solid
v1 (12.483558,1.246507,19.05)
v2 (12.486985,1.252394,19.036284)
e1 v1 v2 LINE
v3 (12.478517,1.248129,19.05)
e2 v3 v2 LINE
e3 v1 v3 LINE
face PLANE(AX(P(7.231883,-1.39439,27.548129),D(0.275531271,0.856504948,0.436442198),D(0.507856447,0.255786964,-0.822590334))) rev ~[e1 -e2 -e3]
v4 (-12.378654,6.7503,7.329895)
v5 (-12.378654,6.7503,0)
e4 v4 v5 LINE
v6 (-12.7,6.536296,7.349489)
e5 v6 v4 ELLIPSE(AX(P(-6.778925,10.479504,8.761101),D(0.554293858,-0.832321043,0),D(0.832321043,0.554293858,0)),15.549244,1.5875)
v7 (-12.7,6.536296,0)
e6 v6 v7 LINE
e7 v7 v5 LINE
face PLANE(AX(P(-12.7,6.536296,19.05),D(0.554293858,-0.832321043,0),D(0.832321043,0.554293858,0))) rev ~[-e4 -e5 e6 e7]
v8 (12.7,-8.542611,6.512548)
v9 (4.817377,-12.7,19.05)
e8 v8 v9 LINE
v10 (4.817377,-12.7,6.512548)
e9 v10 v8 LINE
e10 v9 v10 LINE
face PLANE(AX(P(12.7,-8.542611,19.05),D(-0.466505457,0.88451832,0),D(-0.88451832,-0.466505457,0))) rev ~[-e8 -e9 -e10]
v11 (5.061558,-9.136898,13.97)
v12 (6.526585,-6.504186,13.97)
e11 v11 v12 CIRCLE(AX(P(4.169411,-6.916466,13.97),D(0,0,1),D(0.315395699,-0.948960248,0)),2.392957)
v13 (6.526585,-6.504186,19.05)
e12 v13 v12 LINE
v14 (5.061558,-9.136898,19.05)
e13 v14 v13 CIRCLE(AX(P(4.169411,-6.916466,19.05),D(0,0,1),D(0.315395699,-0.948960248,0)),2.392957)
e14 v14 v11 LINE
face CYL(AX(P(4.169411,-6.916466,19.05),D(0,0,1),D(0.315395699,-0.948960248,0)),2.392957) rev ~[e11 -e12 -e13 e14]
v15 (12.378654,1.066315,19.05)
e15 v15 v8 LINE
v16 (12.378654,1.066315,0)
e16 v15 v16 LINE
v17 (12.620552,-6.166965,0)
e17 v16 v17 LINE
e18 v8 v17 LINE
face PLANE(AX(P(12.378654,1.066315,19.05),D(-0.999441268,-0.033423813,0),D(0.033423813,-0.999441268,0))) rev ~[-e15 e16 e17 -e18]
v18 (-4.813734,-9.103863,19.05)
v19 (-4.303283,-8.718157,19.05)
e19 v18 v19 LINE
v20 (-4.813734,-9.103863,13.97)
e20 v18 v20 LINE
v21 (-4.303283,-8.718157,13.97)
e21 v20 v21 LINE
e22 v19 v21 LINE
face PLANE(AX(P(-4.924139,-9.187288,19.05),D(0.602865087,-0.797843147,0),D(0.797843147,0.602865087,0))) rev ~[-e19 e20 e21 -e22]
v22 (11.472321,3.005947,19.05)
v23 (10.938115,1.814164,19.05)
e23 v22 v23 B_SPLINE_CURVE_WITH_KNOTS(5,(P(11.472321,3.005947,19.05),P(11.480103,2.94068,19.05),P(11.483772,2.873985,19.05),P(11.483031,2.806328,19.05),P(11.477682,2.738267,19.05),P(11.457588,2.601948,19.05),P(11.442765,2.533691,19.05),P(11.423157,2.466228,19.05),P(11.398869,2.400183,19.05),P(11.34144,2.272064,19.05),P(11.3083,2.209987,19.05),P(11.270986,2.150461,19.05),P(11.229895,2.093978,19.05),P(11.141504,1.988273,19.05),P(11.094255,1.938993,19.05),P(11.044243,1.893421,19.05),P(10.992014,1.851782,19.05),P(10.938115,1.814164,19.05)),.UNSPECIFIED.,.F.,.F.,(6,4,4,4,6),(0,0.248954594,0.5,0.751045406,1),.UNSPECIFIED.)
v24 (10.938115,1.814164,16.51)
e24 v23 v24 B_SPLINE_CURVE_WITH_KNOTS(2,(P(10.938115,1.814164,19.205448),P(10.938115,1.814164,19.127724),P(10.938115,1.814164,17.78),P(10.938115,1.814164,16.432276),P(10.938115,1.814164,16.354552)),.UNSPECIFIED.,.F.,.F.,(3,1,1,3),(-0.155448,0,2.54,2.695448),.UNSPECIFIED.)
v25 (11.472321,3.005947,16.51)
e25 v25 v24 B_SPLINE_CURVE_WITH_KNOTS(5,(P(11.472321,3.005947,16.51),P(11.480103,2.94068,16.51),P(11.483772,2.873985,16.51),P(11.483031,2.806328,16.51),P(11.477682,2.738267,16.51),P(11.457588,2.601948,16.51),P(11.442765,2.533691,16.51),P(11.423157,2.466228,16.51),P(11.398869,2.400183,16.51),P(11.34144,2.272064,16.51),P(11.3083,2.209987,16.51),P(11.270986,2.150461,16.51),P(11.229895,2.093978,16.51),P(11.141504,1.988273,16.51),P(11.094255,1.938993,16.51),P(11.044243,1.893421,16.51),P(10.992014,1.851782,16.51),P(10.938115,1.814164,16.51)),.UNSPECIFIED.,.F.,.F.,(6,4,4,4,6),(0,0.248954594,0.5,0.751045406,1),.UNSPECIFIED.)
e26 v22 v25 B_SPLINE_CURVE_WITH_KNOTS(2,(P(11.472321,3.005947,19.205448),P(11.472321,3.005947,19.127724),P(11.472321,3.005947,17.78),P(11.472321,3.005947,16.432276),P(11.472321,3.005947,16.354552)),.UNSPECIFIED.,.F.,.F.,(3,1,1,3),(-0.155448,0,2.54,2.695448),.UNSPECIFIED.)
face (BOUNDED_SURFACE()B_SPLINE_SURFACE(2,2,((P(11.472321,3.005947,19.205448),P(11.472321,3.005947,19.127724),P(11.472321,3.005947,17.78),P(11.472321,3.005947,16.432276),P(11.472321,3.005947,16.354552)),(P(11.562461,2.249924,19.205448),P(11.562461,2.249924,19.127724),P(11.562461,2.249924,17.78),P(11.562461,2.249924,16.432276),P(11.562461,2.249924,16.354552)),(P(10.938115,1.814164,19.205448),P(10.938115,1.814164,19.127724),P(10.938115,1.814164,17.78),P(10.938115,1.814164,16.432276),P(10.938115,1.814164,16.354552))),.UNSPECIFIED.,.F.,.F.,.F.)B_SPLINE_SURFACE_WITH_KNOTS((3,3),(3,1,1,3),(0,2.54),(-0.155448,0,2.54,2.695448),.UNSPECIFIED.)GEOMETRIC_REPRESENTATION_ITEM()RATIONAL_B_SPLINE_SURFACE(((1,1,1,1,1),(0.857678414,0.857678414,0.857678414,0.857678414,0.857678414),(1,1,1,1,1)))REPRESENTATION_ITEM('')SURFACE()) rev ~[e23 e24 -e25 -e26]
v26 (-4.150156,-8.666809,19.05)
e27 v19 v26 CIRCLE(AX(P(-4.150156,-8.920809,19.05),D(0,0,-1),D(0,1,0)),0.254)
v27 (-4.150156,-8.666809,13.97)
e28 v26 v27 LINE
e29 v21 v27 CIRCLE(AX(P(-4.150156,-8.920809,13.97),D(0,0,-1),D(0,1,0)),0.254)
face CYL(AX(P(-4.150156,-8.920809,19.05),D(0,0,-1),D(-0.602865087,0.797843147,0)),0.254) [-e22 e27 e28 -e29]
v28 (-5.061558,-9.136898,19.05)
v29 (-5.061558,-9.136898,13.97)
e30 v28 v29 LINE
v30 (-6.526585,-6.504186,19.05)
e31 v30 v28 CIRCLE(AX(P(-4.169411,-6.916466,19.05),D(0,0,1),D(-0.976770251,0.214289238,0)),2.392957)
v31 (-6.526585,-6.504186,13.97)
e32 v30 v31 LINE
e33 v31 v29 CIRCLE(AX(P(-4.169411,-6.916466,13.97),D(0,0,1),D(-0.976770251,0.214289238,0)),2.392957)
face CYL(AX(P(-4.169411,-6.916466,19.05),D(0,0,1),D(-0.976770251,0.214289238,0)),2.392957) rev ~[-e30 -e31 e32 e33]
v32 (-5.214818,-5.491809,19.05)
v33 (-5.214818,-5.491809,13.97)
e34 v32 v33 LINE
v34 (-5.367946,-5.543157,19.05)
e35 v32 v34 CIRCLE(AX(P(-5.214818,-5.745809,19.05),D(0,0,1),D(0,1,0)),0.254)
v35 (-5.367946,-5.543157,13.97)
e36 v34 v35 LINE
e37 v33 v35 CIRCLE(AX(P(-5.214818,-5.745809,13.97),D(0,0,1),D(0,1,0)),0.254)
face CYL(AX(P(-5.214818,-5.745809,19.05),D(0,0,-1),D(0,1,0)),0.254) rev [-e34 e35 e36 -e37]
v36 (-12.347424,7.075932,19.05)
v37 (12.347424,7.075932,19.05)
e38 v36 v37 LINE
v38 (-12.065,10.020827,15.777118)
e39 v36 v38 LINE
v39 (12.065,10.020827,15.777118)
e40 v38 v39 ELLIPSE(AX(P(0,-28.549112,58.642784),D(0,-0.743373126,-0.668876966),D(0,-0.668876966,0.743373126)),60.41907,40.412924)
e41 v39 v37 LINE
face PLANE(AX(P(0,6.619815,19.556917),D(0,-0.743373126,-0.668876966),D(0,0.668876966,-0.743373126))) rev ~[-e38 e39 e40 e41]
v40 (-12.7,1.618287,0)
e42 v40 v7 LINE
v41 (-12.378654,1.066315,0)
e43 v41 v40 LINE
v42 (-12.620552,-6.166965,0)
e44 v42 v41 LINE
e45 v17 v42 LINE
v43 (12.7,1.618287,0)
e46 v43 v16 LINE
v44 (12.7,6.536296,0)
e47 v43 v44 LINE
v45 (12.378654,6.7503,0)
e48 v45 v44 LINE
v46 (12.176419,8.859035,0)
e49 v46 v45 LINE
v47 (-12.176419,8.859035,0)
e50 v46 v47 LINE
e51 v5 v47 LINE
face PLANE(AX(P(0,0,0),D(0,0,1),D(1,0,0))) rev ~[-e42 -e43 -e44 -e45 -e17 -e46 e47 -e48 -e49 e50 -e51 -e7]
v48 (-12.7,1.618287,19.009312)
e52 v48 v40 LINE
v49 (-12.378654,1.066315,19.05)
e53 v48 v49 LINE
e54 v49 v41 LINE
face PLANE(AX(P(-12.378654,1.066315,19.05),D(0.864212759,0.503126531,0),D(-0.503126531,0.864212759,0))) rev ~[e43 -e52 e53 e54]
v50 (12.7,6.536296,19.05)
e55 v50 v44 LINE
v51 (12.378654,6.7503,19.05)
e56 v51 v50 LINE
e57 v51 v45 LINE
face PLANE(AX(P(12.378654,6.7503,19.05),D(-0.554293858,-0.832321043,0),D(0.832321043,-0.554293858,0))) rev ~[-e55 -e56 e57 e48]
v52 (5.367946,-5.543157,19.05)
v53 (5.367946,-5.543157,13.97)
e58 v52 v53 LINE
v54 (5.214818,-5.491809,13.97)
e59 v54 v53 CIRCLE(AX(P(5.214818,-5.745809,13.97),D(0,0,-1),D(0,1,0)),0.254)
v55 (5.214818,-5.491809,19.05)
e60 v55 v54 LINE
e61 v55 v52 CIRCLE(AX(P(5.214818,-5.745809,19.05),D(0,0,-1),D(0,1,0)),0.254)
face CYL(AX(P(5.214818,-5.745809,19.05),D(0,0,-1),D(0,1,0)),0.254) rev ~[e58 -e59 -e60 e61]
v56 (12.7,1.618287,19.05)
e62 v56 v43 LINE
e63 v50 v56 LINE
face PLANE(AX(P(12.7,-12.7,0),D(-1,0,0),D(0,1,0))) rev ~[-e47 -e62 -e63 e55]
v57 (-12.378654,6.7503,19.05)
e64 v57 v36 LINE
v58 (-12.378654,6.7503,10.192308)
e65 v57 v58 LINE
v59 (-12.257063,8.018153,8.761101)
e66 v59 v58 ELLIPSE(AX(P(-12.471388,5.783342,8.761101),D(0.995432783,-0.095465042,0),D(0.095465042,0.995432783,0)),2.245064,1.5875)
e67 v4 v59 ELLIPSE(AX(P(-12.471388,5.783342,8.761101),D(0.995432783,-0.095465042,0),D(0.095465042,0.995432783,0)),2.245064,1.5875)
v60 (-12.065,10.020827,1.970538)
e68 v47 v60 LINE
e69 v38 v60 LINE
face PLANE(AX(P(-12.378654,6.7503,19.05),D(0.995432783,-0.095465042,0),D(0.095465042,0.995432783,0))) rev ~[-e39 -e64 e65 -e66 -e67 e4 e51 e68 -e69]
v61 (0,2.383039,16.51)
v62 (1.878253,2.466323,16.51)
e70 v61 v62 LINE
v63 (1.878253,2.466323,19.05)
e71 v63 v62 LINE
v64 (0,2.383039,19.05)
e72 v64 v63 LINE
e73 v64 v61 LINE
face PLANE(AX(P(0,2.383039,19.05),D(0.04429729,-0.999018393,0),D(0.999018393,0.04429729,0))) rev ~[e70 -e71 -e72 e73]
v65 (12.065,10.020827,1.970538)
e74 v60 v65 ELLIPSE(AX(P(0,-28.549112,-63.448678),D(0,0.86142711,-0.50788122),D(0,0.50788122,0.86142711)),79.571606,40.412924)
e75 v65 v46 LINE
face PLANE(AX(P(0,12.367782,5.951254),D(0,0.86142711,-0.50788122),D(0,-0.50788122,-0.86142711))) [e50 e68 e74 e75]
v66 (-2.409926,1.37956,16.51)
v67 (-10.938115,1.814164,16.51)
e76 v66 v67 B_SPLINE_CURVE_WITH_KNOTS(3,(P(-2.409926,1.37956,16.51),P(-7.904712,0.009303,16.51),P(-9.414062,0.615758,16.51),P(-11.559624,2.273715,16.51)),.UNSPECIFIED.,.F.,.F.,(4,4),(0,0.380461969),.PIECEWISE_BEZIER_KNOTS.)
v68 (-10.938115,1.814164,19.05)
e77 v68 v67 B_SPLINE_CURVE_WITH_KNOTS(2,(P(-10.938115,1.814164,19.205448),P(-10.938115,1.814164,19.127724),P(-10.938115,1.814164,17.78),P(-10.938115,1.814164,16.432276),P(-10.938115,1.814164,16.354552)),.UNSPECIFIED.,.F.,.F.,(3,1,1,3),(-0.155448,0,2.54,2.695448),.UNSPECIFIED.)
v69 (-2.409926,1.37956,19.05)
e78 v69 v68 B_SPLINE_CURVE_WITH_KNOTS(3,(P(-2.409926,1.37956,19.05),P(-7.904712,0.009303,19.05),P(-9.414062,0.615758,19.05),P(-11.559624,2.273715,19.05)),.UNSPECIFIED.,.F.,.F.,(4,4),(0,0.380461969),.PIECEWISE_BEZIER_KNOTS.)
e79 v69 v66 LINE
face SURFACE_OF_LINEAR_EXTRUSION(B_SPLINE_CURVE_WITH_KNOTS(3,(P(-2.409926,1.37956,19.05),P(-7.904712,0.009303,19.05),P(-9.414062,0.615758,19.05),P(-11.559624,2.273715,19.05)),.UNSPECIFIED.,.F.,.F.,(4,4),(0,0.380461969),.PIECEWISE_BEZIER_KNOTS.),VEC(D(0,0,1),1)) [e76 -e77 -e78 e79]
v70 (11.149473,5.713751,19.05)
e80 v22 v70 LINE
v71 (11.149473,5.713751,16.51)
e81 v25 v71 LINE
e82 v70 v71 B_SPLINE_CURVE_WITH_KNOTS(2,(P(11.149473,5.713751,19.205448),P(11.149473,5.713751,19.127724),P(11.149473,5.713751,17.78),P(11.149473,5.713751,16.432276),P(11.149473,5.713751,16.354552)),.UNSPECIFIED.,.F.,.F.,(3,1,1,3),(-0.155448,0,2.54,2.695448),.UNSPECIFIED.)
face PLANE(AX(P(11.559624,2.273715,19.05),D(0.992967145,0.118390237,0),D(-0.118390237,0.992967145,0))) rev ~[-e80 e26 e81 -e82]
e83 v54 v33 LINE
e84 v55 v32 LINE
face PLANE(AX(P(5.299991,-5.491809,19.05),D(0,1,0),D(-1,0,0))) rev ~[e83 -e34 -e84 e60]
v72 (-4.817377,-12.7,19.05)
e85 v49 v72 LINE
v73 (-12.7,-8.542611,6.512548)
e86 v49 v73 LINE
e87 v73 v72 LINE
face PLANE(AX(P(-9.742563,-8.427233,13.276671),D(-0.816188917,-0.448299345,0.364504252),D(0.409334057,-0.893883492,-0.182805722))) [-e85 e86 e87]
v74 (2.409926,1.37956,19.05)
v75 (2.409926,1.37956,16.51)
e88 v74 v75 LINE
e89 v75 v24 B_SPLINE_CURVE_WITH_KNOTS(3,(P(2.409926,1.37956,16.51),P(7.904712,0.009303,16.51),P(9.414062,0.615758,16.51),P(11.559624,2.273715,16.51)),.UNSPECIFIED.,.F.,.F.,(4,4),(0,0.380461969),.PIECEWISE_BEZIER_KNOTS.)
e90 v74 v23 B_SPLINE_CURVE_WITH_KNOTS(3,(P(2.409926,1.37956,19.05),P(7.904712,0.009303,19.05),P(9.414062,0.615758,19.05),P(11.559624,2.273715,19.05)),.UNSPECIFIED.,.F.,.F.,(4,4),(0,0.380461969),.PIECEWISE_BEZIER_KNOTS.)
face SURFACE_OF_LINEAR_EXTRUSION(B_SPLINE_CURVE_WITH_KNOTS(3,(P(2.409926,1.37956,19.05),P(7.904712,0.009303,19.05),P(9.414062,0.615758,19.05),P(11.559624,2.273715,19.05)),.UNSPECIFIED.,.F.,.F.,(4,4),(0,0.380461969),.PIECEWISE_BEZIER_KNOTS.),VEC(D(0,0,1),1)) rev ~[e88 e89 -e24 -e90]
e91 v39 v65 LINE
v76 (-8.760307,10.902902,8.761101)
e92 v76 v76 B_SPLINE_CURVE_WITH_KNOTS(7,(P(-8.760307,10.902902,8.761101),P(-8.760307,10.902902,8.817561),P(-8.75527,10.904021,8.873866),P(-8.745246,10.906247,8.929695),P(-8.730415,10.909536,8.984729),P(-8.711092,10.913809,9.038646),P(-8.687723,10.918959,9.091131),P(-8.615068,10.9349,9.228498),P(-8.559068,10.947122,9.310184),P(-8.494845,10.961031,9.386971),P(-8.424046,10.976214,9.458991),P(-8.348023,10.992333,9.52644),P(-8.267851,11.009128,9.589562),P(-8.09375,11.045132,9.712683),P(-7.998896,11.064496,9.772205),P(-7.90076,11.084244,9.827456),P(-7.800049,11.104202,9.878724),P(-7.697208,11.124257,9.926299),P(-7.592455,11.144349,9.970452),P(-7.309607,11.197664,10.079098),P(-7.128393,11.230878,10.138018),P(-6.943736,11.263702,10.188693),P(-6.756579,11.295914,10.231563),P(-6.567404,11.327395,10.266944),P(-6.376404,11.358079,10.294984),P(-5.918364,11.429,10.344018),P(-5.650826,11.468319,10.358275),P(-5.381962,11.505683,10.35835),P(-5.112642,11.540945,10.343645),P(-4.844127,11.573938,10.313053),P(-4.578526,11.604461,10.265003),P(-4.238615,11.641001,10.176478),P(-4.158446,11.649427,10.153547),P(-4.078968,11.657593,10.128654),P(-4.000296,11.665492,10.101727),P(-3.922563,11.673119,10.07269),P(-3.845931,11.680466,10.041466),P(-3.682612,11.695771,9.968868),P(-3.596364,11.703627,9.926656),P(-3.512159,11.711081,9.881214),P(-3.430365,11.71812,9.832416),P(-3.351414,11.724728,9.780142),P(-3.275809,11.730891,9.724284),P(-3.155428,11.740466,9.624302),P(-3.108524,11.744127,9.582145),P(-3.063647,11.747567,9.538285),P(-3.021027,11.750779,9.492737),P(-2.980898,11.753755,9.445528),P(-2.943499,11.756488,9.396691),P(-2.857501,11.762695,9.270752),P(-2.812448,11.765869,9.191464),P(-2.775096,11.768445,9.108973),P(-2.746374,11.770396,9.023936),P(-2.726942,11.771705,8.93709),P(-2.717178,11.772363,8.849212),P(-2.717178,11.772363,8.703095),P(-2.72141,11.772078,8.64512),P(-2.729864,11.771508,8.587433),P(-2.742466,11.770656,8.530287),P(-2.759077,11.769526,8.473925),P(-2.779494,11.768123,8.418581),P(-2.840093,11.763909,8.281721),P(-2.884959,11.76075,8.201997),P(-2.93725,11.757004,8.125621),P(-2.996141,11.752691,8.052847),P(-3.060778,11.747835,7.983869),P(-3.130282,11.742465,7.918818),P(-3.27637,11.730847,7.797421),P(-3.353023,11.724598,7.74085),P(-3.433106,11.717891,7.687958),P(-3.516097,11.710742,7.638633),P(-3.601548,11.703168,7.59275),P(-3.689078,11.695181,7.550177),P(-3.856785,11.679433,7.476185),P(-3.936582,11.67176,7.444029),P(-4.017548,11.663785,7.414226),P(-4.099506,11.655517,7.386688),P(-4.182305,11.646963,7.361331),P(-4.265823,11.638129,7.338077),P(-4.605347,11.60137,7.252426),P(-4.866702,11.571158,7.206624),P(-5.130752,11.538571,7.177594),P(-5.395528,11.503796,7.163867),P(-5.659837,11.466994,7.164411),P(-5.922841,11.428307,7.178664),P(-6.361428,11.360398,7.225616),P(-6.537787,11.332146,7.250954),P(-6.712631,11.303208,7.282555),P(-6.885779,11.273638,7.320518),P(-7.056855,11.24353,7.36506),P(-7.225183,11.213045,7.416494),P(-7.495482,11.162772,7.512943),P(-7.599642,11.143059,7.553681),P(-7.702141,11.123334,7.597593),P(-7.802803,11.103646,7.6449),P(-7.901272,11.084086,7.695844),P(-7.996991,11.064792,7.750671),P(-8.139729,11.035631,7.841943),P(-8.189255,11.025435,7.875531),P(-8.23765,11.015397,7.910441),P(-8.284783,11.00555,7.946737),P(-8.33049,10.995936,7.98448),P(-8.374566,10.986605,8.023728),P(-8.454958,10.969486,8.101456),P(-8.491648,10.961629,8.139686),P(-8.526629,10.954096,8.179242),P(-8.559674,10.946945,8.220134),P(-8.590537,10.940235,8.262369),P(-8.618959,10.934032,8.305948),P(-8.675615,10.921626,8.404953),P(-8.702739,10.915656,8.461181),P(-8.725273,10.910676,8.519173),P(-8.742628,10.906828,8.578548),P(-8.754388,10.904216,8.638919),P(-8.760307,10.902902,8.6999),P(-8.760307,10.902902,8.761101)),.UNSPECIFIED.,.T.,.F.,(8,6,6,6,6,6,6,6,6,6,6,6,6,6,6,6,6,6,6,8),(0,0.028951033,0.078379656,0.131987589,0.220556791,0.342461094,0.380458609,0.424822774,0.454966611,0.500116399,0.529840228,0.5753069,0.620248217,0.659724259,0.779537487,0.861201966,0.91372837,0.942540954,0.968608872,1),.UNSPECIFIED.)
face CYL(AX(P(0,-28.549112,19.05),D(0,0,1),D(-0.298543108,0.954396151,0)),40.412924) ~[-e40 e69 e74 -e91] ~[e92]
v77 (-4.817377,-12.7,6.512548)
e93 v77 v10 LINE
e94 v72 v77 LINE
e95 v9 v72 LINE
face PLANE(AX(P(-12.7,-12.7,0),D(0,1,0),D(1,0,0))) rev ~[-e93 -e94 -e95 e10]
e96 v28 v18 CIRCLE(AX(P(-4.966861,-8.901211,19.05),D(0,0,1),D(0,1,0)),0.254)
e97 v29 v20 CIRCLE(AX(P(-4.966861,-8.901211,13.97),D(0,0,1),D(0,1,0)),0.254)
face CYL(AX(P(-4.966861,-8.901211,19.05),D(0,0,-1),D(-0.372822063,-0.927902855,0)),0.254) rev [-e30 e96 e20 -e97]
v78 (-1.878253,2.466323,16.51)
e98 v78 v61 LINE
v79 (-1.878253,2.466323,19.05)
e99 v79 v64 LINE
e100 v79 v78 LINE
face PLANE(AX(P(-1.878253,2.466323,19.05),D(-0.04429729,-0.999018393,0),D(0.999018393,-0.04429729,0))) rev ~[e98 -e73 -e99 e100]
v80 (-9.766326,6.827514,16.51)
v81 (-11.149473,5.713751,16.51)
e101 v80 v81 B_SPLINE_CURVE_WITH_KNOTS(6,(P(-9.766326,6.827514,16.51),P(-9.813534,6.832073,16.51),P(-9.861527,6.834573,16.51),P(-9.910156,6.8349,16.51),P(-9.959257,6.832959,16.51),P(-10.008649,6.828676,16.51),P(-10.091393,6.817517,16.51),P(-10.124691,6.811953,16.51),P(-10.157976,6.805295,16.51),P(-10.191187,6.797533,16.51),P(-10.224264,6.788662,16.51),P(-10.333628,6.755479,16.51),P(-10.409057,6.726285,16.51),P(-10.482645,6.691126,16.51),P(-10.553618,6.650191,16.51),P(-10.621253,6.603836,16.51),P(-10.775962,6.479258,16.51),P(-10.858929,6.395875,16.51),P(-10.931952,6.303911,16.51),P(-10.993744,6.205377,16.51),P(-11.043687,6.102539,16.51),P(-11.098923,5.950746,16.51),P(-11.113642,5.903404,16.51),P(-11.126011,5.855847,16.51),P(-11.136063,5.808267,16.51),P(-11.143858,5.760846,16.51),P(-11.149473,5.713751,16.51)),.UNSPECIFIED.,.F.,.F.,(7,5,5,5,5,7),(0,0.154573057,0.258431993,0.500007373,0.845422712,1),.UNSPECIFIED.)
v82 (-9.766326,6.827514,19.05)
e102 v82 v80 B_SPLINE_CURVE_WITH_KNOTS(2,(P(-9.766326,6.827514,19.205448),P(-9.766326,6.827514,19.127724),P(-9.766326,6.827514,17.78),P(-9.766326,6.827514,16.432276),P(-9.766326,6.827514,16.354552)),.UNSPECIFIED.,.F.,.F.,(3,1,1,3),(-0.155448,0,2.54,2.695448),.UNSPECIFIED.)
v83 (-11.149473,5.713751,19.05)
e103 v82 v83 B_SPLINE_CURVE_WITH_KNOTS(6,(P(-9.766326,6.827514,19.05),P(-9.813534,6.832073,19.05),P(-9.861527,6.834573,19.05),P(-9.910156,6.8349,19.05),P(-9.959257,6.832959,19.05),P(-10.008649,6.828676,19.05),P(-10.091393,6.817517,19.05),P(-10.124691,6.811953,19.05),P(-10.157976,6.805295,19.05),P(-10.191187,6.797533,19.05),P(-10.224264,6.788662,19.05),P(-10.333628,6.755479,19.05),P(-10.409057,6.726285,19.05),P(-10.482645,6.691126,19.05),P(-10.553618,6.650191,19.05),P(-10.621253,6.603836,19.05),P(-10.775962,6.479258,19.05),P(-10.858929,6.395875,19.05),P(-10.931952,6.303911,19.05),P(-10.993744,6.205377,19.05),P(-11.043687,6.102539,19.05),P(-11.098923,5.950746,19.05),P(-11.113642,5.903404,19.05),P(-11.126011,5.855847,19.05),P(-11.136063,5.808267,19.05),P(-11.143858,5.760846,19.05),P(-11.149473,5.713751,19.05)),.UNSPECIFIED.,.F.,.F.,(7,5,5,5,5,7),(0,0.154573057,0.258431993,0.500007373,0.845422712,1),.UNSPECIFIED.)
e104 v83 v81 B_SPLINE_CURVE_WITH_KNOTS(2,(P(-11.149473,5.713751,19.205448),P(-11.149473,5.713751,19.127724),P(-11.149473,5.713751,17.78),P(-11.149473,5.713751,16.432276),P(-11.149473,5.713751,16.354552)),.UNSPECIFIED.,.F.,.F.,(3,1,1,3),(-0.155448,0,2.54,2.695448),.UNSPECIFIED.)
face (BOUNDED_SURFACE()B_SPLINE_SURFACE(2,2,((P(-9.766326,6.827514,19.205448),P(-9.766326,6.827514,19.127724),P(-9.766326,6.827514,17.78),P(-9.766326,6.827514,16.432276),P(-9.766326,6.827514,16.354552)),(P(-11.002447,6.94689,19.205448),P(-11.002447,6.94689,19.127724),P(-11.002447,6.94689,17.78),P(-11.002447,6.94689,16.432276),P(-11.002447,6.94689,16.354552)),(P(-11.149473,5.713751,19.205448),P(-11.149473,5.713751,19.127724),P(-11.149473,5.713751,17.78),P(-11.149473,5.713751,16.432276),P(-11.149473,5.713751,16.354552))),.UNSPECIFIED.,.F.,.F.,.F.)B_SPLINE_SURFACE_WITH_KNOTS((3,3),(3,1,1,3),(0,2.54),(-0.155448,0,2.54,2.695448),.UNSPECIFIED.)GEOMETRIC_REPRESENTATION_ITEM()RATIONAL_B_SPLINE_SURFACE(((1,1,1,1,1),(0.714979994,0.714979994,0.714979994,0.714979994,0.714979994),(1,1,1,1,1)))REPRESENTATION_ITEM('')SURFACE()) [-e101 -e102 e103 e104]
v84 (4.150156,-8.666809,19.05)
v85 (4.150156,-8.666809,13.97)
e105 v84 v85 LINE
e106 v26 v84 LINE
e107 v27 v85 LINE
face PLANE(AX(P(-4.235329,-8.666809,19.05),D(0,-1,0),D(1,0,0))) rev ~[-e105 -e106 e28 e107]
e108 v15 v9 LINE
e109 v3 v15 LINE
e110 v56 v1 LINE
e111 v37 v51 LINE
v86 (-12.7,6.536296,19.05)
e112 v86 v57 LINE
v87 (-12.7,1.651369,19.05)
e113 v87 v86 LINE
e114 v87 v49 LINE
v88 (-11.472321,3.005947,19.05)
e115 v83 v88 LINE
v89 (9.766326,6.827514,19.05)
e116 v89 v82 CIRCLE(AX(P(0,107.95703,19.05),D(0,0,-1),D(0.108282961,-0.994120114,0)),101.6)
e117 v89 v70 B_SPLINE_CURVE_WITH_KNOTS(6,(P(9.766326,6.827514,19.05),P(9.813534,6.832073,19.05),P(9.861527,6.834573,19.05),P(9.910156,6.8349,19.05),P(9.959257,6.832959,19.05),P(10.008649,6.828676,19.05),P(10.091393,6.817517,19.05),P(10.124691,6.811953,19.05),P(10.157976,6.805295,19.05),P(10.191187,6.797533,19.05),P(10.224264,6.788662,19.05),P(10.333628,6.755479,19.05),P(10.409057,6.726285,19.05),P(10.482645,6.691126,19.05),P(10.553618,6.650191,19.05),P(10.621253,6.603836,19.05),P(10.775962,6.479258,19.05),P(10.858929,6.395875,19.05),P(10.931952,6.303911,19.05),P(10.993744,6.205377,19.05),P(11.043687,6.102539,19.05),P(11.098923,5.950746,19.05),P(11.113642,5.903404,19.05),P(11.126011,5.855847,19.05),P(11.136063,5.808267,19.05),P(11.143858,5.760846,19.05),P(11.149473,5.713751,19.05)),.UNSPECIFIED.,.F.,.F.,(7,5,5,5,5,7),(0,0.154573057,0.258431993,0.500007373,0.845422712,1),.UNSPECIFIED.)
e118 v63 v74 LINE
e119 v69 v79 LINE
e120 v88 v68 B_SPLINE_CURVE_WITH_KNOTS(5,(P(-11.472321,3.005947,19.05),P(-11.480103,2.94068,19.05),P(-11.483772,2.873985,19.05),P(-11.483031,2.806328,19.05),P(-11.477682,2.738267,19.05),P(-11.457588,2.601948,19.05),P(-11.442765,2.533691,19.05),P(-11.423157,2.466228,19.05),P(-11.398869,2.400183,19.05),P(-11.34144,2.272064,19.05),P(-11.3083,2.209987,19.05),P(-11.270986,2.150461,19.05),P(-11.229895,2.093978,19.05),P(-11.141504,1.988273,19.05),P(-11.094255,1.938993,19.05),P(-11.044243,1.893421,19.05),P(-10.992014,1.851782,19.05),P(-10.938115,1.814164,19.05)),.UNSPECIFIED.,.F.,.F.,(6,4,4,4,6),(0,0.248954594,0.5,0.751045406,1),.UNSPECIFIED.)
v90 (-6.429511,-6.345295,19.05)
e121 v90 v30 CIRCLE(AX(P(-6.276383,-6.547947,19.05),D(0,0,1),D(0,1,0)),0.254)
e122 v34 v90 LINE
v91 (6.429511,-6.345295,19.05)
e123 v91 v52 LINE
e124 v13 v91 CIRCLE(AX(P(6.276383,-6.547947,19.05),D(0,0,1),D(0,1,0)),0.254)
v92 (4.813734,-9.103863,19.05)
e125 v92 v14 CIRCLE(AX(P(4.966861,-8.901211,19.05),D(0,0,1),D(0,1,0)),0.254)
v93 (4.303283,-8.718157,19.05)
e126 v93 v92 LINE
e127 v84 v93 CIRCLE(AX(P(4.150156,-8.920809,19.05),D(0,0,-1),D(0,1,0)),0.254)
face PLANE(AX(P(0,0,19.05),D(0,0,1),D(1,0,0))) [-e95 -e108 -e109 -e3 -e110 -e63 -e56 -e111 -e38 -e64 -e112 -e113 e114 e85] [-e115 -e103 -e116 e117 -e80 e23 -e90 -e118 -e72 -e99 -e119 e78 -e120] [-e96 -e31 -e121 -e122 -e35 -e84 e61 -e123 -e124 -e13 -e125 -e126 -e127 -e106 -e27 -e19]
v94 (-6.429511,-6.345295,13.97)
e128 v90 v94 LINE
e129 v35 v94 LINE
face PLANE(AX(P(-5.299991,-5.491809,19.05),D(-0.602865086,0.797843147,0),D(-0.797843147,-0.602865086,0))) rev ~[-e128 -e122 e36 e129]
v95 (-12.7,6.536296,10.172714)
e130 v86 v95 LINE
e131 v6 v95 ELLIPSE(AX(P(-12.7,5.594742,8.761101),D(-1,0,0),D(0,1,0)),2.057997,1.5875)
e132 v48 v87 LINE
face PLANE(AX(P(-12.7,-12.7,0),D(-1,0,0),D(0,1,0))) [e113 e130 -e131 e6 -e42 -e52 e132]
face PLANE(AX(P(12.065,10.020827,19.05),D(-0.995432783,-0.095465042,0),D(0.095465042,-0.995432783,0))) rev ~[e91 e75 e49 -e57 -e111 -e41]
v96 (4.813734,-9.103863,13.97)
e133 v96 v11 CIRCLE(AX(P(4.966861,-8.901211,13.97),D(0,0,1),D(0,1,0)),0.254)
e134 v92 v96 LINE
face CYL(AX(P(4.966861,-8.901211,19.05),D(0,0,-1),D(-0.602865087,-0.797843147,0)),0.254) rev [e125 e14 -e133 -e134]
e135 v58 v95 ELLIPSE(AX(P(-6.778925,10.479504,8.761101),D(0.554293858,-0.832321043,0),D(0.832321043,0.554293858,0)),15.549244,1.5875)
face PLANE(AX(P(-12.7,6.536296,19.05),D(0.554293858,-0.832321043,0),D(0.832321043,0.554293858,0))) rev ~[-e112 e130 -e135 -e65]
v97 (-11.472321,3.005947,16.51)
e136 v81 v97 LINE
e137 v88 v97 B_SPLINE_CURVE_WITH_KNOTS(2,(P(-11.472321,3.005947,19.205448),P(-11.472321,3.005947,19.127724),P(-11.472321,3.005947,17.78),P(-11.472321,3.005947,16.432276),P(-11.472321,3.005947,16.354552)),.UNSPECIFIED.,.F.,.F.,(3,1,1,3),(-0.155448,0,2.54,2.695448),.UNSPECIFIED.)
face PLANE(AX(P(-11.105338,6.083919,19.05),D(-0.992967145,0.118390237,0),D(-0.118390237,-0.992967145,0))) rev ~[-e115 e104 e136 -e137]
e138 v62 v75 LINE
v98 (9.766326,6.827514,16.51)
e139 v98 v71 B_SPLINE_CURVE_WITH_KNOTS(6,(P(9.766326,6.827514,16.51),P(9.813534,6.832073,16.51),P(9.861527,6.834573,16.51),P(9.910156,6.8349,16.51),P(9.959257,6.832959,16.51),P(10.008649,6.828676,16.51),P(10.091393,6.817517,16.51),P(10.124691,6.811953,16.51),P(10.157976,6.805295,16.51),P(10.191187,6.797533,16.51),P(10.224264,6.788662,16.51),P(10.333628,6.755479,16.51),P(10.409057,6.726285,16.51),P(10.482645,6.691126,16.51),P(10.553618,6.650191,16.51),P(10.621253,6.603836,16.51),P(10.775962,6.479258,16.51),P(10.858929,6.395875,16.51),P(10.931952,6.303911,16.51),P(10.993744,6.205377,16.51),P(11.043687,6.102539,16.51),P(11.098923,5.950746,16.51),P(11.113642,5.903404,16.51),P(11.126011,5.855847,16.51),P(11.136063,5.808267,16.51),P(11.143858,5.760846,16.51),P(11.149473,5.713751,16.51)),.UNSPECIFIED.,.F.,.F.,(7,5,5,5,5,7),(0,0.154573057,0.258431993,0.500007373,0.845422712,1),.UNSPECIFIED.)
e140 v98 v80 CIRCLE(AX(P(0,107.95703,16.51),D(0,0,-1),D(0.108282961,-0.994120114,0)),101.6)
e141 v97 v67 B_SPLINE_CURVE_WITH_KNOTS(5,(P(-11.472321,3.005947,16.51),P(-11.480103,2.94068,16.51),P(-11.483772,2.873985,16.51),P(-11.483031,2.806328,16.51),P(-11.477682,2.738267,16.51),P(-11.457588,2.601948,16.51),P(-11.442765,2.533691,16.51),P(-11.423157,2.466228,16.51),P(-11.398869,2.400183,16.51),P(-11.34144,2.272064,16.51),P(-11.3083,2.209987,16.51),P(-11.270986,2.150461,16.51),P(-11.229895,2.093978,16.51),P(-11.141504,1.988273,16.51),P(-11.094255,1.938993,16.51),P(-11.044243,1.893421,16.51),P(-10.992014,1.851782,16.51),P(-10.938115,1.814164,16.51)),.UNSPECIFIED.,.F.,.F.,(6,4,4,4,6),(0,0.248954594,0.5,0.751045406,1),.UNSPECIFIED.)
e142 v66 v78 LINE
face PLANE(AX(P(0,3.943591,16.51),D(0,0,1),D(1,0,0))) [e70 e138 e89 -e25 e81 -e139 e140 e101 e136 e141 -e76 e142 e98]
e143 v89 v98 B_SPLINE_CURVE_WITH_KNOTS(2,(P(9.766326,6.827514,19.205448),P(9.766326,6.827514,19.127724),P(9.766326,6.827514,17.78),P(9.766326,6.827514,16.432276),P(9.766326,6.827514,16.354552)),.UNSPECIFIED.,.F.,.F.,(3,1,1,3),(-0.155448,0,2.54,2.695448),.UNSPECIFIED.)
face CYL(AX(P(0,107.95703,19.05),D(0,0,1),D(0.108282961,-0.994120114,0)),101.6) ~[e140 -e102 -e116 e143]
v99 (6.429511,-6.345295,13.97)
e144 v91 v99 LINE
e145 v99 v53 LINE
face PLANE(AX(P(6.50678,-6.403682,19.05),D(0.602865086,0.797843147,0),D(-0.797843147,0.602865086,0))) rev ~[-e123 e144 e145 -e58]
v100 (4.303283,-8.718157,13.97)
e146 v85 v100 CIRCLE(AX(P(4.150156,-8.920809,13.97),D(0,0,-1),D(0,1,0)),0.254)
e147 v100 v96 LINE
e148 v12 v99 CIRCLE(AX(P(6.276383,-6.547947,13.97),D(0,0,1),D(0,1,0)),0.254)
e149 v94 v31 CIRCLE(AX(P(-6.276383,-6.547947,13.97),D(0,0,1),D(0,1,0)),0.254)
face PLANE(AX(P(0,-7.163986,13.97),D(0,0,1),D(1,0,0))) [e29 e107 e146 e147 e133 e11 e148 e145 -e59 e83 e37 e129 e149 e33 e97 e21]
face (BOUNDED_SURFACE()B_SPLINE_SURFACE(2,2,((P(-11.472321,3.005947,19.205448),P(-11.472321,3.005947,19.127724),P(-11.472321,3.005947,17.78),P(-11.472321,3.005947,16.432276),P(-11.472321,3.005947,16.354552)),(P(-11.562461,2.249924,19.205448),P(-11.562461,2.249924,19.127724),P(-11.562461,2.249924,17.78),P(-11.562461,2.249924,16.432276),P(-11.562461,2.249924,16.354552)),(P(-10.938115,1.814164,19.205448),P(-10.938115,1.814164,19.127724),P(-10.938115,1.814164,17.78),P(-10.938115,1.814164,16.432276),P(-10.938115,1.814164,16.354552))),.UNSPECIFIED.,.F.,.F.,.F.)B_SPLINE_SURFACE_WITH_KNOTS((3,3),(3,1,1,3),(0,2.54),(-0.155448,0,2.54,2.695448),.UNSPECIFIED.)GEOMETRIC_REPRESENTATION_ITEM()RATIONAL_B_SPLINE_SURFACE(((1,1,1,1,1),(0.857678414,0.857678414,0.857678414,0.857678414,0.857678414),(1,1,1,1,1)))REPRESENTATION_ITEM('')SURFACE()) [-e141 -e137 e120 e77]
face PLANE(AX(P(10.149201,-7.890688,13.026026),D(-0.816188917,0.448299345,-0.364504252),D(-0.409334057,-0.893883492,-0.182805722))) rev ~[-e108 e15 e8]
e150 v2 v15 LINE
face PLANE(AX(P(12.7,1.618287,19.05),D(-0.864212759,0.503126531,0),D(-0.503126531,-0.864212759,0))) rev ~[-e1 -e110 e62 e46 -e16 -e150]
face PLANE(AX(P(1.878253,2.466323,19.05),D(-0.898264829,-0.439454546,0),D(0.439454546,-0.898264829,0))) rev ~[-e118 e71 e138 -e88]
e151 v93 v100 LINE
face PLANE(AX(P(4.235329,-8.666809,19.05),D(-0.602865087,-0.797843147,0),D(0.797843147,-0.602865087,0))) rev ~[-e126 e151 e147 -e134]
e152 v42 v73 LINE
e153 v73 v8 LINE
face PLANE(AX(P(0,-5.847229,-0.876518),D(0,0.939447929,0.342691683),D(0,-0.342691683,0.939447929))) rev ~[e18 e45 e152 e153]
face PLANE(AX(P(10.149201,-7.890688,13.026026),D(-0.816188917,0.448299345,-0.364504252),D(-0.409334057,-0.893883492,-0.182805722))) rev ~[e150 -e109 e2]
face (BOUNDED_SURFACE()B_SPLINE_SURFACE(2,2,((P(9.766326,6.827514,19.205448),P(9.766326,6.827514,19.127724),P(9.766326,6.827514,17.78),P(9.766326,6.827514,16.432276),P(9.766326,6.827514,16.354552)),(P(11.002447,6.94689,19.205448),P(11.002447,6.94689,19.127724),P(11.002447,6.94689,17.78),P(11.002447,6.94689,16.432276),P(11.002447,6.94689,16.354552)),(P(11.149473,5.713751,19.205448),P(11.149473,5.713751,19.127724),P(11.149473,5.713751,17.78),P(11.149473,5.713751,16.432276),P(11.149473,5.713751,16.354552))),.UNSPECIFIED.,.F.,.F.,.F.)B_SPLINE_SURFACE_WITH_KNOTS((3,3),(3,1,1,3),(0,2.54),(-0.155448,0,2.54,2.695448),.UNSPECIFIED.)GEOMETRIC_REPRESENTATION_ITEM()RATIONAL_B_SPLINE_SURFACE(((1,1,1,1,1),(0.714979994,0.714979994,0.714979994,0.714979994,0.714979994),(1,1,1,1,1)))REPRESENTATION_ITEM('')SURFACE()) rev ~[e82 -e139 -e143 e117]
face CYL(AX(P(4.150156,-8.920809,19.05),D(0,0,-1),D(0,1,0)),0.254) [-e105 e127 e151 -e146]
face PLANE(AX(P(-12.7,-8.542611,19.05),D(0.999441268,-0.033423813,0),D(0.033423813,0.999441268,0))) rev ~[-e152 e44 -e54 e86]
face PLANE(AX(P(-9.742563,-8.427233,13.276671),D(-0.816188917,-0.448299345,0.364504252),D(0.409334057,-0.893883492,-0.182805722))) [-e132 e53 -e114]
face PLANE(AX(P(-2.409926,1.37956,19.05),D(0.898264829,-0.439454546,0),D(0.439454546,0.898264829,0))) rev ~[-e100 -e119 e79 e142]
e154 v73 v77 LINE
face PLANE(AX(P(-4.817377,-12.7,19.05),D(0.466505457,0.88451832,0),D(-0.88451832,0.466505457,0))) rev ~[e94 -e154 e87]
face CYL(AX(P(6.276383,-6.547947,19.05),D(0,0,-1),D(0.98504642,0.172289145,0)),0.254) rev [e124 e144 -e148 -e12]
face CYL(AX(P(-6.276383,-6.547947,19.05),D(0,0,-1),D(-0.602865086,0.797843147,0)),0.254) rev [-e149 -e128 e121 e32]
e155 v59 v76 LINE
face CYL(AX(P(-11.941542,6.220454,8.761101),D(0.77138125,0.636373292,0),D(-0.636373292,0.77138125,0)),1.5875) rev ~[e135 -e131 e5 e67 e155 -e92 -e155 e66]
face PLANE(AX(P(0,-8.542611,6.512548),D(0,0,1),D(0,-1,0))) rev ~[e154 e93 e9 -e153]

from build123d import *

# Parameters (mm, degrees)
F0_W      = 25.4
F0_H      = 25.4
F1_DEPTH  = 19.05
F2_W      = 33.1137652975
F2_H      = 28.659734875
F3_DEPTH  = 19.051
F5_DEPTH  = 12.7
F7_DEPTH  = 2.54
F9_DEPTH  = 12.7
F12_DEPTH = 25.4
F15_DEPTH = 25.4
F17_DEPTH = 5.08
F18_R     = 1.27
F20_R     = 1.5875
F21_DEPTH = 12.7
F22_R     = 0.254


with BuildPart() as f1:
    # F0 (on Top) → F1 (new body)
    with BuildSketch(Plane.XY):
        Rectangle(F0_W, F0_H)
    extrude(amount=F1_DEPTH)

    # F2 (on face) → F3 (cut, through all)
    with BuildSketch(Plane.XY.offset(19.05)):
        with Locations((-1.1700320756, 0)):
            Rectangle(F2_W, F2_H)
        with BuildLine():
            ThreePointArc((-12.065, 10.0208269432), (0, 11.8638118431), (12.065, 10.0208269432))
            Line((12.065, 10.0208269432), (12.3786535114, 6.750300061))
            Line((12.3786535114, 6.750300061), (12.7, 6.5362956375))
            Line((12.7, 6.5362956375), (12.7, 1.6182865947))
            Line((12.7, 1.6182865947), (12.3786535114, 1.0663146386))
            Line((12.3786535114, 1.0663146386), (12.7, -8.5426112637))
            Line((12.7, -8.5426112637), (4.8173773102, -12.7))
            Line((4.8173773102, -12.7), (0, -12.7))
            Line((0, -12.7), (-4.8173773102, -12.7))
            Line((-4.8173773102, -12.7), (-12.7, -8.5426112637))
            Line((-12.7, -8.5426112637), (-12.3786535114, 1.0663146386))
            Line((-12.3786535114, 1.0663146386), (-12.7, 1.6182865947))
            Line((-12.7, 1.6182865947), (-12.7, 6.5362956375))
            Line((-12.7, 6.5362956375), (-12.3786535114, 6.750300061))
            Line((-12.3786535114, 6.750300061), (-12.065, 10.0208269432))
        make_face(mode=Mode.SUBTRACT)
    extrude(amount=-F3_DEPTH, mode=Mode.SUBTRACT)

    # F4 (on Right) → F5 (cut, symmetric)
    with BuildSketch(Plane.YZ):
        Polygon((13.4258409962, 23.2345554978), (6.619815249, 19.5569172502), (12.7253746614, 12.7713512629), align=None)
    extrude(amount=F5_DEPTH, both=True, mode=Mode.SUBTRACT)

    # F6 (on face) → F7 (cut)
    with BuildSketch(Plane.XY.offset(19.05)):
        with BuildLine():
            ThreePointArc((11.0015488178, 6.9544261182), (0, 6.3570296668), (-11.0015488178, 6.9544261182))
            Line((-11.0015488178, 6.9544261182), (-11.1053383224, 6.0839187998))
            Line((-11.1053383224, 6.0839187998), (-11.5596242249, 2.2737146355))
            add(Edge.make_bspline(
                [(-2.4099256195, 1.3795604811), (-7.9047118703, 0.0093029614), (-9.4140619773, 0.61575824), (-11.5596242249, 2.2737146355)],
                knots=[0, 0, 0, 0, 0.380461969, 0.380461969, 0.380461969, 0.380461969], degree=3))
            Line((-2.4099256195, 1.3795604811), (-1.8782533274, 2.4663225251))
            Line((-1.8782533274, 2.4663225251), (0, 2.3830392409))
            Line((0, 2.3830392409), (1.8782533274, 2.4663225251))
            Line((1.8782533274, 2.4663225251), (2.4099256195, 1.3795604811))
            add(Edge.make_bspline(
                [(2.4099256195, 1.3795604811), (7.9047118703, 0.0093029614), (9.4140619773, 0.61575824), (11.5596242249, 2.2737146355)],
                knots=[0, 0, 0, 0, 0.380461969, 0.380461969, 0.380461969, 0.380461969], degree=3))
            Line((11.5596242249, 2.2737146355), (11.1053383224, 6.0839187998))
            Line((11.1053383224, 6.0839187998), (11.0015488178, 6.9544261182))
        make_face()
    extrude(amount=-F7_DEPTH, mode=Mode.SUBTRACT)

    # F8 (on Right) → F9 (cut, symmetric)
    with BuildSketch(Plane.YZ):
        Polygon((16.2616688758, -2.9984780122), (12.367782183, 5.9512541629), (7.8229103237, -1.7573904479), align=None)
        Polygon((-14.0263205394, -2.3636263795), (-5.847228691, -0.8765184903), (-8.5426112637, 6.5125478432), (-13.6080719531, 6.5125478432), align=None)
    extrude(amount=F9_DEPTH, both=True, mode=Mode.SUBTRACT)

    # F11 (on 3pt) → F12 (cut)
    with BuildSketch(Plane(origin=(13.5235138631, -7.4279156196, 6.0395065555), x_dir=(-0.409334057, -0.8938834922, -0.1828057224), z_dir=(-0.8161889166, 0.4482993446, -0.3645042525))):
        Polygon((9.3890596181, -6.6504105926), (10.8706550673, 19.4640029222), (-6.7497892305, 22.2047120333), (-12.2956875712, 3.634221619), (-6.1068134382, -4.8245443031), align=None)
    extrude(amount=-F12_DEPTH, mode=Mode.SUBTRACT)

    # F14 (on 3pt) → F15 (cut)
    with BuildSketch(Plane(origin=(-13.5235138631, -7.4279156196, 6.0395065555), x_dir=(0.409334057, -0.8938834922, -0.1828057224), z_dir=(-0.8161889166, -0.4482993446, 0.3645042525))):
        Polygon((12.0957437903, 22.2065132111), (-11.2094106153, 21.0766065866), (-8.9160036296, -5.990778096), (12.0957437903, -5.990778096), align=None)
    extrude(amount=F15_DEPTH, mode=Mode.SUBTRACT)

    # F16 (on face) → F17 (cut)
    with BuildSketch(Plane.XY.offset(19.05)):
        with BuildLine():
            Line((5.2999914624, -5.4918094538), (0, -5.4918094538))
            Line((0, -5.4918094538), (-5.2999914624, -5.4918094538))
            Line((-5.2999914624, -5.4918094538), (-6.5067803222, -6.403681509))
            ThreePointArc((-6.5067803222, -6.403681509), (-6.2496472485, -8.0992009526), (-4.9241394059, -9.1872876037))
            Line((-4.9241394059, -9.1872876037), (-4.2353287011, -8.6668094538))
            Line((-4.2353287011, -8.6668094538), (0, -8.6668094538))
            Line((0, -8.6668094538), (4.2353287011, -8.6668094538))
            Line((4.2353287011, -8.6668094538), (4.9241394059, -9.1872876037))
            ThreePointArc((4.9241394059, -9.1872876037), (6.2496472485, -8.0992009526), (6.5067803222, -6.403681509))
            Line((6.5067803222, -6.403681509), (5.2999914624, -5.4918094538))
        make_face()
    extrude(amount=-F17_DEPTH, mode=Mode.SUBTRACT)

    # F18
    f18_edges = [f1.edges().sort_by_distance(p)[0] for p in [
        (-11.001549, 6.954426, 17.78),
        (11.001549, 6.954426, 17.78),
        (11.559624, 2.273715, 17.78),
        (-11.559624, 2.273715, 17.78),
    ]]
    fillet(f18_edges, radius=F18_R)

    # F20 (on face) → F21 (cut, symmetric)
    with BuildSketch(Plane(origin=(-4.0520275589, -3.3428374331, 0), x_dir=(-0.6363732922, 0.7713812501, 0), z_dir=(0.7713812501, 0.6363732922, 0))):
        with Locations((12.3976198956, 8.7611014023)):
            Circle(F20_R)
    extrude(amount=F21_DEPTH, both=True, mode=Mode.SUBTRACT)

    # F22
    f22_edges = [f1.edges().sort_by_distance(p)[0] for p in [
        (-4.235329, -8.666809, 16.51),
        (-4.924139, -9.187288, 16.51),
        (-6.50678, -6.403682, 16.51),
        (-5.299991, -5.491809, 16.51),
        (4.235329, -8.666809, 16.51),
        (4.924139, -9.187288, 16.51),
        (6.50678, -6.403682, 16.51),
        (5.299991, -5.491809, 16.51),
    ]]
    fillet(f22_edges, radius=F22_R)


solid = f1.part
